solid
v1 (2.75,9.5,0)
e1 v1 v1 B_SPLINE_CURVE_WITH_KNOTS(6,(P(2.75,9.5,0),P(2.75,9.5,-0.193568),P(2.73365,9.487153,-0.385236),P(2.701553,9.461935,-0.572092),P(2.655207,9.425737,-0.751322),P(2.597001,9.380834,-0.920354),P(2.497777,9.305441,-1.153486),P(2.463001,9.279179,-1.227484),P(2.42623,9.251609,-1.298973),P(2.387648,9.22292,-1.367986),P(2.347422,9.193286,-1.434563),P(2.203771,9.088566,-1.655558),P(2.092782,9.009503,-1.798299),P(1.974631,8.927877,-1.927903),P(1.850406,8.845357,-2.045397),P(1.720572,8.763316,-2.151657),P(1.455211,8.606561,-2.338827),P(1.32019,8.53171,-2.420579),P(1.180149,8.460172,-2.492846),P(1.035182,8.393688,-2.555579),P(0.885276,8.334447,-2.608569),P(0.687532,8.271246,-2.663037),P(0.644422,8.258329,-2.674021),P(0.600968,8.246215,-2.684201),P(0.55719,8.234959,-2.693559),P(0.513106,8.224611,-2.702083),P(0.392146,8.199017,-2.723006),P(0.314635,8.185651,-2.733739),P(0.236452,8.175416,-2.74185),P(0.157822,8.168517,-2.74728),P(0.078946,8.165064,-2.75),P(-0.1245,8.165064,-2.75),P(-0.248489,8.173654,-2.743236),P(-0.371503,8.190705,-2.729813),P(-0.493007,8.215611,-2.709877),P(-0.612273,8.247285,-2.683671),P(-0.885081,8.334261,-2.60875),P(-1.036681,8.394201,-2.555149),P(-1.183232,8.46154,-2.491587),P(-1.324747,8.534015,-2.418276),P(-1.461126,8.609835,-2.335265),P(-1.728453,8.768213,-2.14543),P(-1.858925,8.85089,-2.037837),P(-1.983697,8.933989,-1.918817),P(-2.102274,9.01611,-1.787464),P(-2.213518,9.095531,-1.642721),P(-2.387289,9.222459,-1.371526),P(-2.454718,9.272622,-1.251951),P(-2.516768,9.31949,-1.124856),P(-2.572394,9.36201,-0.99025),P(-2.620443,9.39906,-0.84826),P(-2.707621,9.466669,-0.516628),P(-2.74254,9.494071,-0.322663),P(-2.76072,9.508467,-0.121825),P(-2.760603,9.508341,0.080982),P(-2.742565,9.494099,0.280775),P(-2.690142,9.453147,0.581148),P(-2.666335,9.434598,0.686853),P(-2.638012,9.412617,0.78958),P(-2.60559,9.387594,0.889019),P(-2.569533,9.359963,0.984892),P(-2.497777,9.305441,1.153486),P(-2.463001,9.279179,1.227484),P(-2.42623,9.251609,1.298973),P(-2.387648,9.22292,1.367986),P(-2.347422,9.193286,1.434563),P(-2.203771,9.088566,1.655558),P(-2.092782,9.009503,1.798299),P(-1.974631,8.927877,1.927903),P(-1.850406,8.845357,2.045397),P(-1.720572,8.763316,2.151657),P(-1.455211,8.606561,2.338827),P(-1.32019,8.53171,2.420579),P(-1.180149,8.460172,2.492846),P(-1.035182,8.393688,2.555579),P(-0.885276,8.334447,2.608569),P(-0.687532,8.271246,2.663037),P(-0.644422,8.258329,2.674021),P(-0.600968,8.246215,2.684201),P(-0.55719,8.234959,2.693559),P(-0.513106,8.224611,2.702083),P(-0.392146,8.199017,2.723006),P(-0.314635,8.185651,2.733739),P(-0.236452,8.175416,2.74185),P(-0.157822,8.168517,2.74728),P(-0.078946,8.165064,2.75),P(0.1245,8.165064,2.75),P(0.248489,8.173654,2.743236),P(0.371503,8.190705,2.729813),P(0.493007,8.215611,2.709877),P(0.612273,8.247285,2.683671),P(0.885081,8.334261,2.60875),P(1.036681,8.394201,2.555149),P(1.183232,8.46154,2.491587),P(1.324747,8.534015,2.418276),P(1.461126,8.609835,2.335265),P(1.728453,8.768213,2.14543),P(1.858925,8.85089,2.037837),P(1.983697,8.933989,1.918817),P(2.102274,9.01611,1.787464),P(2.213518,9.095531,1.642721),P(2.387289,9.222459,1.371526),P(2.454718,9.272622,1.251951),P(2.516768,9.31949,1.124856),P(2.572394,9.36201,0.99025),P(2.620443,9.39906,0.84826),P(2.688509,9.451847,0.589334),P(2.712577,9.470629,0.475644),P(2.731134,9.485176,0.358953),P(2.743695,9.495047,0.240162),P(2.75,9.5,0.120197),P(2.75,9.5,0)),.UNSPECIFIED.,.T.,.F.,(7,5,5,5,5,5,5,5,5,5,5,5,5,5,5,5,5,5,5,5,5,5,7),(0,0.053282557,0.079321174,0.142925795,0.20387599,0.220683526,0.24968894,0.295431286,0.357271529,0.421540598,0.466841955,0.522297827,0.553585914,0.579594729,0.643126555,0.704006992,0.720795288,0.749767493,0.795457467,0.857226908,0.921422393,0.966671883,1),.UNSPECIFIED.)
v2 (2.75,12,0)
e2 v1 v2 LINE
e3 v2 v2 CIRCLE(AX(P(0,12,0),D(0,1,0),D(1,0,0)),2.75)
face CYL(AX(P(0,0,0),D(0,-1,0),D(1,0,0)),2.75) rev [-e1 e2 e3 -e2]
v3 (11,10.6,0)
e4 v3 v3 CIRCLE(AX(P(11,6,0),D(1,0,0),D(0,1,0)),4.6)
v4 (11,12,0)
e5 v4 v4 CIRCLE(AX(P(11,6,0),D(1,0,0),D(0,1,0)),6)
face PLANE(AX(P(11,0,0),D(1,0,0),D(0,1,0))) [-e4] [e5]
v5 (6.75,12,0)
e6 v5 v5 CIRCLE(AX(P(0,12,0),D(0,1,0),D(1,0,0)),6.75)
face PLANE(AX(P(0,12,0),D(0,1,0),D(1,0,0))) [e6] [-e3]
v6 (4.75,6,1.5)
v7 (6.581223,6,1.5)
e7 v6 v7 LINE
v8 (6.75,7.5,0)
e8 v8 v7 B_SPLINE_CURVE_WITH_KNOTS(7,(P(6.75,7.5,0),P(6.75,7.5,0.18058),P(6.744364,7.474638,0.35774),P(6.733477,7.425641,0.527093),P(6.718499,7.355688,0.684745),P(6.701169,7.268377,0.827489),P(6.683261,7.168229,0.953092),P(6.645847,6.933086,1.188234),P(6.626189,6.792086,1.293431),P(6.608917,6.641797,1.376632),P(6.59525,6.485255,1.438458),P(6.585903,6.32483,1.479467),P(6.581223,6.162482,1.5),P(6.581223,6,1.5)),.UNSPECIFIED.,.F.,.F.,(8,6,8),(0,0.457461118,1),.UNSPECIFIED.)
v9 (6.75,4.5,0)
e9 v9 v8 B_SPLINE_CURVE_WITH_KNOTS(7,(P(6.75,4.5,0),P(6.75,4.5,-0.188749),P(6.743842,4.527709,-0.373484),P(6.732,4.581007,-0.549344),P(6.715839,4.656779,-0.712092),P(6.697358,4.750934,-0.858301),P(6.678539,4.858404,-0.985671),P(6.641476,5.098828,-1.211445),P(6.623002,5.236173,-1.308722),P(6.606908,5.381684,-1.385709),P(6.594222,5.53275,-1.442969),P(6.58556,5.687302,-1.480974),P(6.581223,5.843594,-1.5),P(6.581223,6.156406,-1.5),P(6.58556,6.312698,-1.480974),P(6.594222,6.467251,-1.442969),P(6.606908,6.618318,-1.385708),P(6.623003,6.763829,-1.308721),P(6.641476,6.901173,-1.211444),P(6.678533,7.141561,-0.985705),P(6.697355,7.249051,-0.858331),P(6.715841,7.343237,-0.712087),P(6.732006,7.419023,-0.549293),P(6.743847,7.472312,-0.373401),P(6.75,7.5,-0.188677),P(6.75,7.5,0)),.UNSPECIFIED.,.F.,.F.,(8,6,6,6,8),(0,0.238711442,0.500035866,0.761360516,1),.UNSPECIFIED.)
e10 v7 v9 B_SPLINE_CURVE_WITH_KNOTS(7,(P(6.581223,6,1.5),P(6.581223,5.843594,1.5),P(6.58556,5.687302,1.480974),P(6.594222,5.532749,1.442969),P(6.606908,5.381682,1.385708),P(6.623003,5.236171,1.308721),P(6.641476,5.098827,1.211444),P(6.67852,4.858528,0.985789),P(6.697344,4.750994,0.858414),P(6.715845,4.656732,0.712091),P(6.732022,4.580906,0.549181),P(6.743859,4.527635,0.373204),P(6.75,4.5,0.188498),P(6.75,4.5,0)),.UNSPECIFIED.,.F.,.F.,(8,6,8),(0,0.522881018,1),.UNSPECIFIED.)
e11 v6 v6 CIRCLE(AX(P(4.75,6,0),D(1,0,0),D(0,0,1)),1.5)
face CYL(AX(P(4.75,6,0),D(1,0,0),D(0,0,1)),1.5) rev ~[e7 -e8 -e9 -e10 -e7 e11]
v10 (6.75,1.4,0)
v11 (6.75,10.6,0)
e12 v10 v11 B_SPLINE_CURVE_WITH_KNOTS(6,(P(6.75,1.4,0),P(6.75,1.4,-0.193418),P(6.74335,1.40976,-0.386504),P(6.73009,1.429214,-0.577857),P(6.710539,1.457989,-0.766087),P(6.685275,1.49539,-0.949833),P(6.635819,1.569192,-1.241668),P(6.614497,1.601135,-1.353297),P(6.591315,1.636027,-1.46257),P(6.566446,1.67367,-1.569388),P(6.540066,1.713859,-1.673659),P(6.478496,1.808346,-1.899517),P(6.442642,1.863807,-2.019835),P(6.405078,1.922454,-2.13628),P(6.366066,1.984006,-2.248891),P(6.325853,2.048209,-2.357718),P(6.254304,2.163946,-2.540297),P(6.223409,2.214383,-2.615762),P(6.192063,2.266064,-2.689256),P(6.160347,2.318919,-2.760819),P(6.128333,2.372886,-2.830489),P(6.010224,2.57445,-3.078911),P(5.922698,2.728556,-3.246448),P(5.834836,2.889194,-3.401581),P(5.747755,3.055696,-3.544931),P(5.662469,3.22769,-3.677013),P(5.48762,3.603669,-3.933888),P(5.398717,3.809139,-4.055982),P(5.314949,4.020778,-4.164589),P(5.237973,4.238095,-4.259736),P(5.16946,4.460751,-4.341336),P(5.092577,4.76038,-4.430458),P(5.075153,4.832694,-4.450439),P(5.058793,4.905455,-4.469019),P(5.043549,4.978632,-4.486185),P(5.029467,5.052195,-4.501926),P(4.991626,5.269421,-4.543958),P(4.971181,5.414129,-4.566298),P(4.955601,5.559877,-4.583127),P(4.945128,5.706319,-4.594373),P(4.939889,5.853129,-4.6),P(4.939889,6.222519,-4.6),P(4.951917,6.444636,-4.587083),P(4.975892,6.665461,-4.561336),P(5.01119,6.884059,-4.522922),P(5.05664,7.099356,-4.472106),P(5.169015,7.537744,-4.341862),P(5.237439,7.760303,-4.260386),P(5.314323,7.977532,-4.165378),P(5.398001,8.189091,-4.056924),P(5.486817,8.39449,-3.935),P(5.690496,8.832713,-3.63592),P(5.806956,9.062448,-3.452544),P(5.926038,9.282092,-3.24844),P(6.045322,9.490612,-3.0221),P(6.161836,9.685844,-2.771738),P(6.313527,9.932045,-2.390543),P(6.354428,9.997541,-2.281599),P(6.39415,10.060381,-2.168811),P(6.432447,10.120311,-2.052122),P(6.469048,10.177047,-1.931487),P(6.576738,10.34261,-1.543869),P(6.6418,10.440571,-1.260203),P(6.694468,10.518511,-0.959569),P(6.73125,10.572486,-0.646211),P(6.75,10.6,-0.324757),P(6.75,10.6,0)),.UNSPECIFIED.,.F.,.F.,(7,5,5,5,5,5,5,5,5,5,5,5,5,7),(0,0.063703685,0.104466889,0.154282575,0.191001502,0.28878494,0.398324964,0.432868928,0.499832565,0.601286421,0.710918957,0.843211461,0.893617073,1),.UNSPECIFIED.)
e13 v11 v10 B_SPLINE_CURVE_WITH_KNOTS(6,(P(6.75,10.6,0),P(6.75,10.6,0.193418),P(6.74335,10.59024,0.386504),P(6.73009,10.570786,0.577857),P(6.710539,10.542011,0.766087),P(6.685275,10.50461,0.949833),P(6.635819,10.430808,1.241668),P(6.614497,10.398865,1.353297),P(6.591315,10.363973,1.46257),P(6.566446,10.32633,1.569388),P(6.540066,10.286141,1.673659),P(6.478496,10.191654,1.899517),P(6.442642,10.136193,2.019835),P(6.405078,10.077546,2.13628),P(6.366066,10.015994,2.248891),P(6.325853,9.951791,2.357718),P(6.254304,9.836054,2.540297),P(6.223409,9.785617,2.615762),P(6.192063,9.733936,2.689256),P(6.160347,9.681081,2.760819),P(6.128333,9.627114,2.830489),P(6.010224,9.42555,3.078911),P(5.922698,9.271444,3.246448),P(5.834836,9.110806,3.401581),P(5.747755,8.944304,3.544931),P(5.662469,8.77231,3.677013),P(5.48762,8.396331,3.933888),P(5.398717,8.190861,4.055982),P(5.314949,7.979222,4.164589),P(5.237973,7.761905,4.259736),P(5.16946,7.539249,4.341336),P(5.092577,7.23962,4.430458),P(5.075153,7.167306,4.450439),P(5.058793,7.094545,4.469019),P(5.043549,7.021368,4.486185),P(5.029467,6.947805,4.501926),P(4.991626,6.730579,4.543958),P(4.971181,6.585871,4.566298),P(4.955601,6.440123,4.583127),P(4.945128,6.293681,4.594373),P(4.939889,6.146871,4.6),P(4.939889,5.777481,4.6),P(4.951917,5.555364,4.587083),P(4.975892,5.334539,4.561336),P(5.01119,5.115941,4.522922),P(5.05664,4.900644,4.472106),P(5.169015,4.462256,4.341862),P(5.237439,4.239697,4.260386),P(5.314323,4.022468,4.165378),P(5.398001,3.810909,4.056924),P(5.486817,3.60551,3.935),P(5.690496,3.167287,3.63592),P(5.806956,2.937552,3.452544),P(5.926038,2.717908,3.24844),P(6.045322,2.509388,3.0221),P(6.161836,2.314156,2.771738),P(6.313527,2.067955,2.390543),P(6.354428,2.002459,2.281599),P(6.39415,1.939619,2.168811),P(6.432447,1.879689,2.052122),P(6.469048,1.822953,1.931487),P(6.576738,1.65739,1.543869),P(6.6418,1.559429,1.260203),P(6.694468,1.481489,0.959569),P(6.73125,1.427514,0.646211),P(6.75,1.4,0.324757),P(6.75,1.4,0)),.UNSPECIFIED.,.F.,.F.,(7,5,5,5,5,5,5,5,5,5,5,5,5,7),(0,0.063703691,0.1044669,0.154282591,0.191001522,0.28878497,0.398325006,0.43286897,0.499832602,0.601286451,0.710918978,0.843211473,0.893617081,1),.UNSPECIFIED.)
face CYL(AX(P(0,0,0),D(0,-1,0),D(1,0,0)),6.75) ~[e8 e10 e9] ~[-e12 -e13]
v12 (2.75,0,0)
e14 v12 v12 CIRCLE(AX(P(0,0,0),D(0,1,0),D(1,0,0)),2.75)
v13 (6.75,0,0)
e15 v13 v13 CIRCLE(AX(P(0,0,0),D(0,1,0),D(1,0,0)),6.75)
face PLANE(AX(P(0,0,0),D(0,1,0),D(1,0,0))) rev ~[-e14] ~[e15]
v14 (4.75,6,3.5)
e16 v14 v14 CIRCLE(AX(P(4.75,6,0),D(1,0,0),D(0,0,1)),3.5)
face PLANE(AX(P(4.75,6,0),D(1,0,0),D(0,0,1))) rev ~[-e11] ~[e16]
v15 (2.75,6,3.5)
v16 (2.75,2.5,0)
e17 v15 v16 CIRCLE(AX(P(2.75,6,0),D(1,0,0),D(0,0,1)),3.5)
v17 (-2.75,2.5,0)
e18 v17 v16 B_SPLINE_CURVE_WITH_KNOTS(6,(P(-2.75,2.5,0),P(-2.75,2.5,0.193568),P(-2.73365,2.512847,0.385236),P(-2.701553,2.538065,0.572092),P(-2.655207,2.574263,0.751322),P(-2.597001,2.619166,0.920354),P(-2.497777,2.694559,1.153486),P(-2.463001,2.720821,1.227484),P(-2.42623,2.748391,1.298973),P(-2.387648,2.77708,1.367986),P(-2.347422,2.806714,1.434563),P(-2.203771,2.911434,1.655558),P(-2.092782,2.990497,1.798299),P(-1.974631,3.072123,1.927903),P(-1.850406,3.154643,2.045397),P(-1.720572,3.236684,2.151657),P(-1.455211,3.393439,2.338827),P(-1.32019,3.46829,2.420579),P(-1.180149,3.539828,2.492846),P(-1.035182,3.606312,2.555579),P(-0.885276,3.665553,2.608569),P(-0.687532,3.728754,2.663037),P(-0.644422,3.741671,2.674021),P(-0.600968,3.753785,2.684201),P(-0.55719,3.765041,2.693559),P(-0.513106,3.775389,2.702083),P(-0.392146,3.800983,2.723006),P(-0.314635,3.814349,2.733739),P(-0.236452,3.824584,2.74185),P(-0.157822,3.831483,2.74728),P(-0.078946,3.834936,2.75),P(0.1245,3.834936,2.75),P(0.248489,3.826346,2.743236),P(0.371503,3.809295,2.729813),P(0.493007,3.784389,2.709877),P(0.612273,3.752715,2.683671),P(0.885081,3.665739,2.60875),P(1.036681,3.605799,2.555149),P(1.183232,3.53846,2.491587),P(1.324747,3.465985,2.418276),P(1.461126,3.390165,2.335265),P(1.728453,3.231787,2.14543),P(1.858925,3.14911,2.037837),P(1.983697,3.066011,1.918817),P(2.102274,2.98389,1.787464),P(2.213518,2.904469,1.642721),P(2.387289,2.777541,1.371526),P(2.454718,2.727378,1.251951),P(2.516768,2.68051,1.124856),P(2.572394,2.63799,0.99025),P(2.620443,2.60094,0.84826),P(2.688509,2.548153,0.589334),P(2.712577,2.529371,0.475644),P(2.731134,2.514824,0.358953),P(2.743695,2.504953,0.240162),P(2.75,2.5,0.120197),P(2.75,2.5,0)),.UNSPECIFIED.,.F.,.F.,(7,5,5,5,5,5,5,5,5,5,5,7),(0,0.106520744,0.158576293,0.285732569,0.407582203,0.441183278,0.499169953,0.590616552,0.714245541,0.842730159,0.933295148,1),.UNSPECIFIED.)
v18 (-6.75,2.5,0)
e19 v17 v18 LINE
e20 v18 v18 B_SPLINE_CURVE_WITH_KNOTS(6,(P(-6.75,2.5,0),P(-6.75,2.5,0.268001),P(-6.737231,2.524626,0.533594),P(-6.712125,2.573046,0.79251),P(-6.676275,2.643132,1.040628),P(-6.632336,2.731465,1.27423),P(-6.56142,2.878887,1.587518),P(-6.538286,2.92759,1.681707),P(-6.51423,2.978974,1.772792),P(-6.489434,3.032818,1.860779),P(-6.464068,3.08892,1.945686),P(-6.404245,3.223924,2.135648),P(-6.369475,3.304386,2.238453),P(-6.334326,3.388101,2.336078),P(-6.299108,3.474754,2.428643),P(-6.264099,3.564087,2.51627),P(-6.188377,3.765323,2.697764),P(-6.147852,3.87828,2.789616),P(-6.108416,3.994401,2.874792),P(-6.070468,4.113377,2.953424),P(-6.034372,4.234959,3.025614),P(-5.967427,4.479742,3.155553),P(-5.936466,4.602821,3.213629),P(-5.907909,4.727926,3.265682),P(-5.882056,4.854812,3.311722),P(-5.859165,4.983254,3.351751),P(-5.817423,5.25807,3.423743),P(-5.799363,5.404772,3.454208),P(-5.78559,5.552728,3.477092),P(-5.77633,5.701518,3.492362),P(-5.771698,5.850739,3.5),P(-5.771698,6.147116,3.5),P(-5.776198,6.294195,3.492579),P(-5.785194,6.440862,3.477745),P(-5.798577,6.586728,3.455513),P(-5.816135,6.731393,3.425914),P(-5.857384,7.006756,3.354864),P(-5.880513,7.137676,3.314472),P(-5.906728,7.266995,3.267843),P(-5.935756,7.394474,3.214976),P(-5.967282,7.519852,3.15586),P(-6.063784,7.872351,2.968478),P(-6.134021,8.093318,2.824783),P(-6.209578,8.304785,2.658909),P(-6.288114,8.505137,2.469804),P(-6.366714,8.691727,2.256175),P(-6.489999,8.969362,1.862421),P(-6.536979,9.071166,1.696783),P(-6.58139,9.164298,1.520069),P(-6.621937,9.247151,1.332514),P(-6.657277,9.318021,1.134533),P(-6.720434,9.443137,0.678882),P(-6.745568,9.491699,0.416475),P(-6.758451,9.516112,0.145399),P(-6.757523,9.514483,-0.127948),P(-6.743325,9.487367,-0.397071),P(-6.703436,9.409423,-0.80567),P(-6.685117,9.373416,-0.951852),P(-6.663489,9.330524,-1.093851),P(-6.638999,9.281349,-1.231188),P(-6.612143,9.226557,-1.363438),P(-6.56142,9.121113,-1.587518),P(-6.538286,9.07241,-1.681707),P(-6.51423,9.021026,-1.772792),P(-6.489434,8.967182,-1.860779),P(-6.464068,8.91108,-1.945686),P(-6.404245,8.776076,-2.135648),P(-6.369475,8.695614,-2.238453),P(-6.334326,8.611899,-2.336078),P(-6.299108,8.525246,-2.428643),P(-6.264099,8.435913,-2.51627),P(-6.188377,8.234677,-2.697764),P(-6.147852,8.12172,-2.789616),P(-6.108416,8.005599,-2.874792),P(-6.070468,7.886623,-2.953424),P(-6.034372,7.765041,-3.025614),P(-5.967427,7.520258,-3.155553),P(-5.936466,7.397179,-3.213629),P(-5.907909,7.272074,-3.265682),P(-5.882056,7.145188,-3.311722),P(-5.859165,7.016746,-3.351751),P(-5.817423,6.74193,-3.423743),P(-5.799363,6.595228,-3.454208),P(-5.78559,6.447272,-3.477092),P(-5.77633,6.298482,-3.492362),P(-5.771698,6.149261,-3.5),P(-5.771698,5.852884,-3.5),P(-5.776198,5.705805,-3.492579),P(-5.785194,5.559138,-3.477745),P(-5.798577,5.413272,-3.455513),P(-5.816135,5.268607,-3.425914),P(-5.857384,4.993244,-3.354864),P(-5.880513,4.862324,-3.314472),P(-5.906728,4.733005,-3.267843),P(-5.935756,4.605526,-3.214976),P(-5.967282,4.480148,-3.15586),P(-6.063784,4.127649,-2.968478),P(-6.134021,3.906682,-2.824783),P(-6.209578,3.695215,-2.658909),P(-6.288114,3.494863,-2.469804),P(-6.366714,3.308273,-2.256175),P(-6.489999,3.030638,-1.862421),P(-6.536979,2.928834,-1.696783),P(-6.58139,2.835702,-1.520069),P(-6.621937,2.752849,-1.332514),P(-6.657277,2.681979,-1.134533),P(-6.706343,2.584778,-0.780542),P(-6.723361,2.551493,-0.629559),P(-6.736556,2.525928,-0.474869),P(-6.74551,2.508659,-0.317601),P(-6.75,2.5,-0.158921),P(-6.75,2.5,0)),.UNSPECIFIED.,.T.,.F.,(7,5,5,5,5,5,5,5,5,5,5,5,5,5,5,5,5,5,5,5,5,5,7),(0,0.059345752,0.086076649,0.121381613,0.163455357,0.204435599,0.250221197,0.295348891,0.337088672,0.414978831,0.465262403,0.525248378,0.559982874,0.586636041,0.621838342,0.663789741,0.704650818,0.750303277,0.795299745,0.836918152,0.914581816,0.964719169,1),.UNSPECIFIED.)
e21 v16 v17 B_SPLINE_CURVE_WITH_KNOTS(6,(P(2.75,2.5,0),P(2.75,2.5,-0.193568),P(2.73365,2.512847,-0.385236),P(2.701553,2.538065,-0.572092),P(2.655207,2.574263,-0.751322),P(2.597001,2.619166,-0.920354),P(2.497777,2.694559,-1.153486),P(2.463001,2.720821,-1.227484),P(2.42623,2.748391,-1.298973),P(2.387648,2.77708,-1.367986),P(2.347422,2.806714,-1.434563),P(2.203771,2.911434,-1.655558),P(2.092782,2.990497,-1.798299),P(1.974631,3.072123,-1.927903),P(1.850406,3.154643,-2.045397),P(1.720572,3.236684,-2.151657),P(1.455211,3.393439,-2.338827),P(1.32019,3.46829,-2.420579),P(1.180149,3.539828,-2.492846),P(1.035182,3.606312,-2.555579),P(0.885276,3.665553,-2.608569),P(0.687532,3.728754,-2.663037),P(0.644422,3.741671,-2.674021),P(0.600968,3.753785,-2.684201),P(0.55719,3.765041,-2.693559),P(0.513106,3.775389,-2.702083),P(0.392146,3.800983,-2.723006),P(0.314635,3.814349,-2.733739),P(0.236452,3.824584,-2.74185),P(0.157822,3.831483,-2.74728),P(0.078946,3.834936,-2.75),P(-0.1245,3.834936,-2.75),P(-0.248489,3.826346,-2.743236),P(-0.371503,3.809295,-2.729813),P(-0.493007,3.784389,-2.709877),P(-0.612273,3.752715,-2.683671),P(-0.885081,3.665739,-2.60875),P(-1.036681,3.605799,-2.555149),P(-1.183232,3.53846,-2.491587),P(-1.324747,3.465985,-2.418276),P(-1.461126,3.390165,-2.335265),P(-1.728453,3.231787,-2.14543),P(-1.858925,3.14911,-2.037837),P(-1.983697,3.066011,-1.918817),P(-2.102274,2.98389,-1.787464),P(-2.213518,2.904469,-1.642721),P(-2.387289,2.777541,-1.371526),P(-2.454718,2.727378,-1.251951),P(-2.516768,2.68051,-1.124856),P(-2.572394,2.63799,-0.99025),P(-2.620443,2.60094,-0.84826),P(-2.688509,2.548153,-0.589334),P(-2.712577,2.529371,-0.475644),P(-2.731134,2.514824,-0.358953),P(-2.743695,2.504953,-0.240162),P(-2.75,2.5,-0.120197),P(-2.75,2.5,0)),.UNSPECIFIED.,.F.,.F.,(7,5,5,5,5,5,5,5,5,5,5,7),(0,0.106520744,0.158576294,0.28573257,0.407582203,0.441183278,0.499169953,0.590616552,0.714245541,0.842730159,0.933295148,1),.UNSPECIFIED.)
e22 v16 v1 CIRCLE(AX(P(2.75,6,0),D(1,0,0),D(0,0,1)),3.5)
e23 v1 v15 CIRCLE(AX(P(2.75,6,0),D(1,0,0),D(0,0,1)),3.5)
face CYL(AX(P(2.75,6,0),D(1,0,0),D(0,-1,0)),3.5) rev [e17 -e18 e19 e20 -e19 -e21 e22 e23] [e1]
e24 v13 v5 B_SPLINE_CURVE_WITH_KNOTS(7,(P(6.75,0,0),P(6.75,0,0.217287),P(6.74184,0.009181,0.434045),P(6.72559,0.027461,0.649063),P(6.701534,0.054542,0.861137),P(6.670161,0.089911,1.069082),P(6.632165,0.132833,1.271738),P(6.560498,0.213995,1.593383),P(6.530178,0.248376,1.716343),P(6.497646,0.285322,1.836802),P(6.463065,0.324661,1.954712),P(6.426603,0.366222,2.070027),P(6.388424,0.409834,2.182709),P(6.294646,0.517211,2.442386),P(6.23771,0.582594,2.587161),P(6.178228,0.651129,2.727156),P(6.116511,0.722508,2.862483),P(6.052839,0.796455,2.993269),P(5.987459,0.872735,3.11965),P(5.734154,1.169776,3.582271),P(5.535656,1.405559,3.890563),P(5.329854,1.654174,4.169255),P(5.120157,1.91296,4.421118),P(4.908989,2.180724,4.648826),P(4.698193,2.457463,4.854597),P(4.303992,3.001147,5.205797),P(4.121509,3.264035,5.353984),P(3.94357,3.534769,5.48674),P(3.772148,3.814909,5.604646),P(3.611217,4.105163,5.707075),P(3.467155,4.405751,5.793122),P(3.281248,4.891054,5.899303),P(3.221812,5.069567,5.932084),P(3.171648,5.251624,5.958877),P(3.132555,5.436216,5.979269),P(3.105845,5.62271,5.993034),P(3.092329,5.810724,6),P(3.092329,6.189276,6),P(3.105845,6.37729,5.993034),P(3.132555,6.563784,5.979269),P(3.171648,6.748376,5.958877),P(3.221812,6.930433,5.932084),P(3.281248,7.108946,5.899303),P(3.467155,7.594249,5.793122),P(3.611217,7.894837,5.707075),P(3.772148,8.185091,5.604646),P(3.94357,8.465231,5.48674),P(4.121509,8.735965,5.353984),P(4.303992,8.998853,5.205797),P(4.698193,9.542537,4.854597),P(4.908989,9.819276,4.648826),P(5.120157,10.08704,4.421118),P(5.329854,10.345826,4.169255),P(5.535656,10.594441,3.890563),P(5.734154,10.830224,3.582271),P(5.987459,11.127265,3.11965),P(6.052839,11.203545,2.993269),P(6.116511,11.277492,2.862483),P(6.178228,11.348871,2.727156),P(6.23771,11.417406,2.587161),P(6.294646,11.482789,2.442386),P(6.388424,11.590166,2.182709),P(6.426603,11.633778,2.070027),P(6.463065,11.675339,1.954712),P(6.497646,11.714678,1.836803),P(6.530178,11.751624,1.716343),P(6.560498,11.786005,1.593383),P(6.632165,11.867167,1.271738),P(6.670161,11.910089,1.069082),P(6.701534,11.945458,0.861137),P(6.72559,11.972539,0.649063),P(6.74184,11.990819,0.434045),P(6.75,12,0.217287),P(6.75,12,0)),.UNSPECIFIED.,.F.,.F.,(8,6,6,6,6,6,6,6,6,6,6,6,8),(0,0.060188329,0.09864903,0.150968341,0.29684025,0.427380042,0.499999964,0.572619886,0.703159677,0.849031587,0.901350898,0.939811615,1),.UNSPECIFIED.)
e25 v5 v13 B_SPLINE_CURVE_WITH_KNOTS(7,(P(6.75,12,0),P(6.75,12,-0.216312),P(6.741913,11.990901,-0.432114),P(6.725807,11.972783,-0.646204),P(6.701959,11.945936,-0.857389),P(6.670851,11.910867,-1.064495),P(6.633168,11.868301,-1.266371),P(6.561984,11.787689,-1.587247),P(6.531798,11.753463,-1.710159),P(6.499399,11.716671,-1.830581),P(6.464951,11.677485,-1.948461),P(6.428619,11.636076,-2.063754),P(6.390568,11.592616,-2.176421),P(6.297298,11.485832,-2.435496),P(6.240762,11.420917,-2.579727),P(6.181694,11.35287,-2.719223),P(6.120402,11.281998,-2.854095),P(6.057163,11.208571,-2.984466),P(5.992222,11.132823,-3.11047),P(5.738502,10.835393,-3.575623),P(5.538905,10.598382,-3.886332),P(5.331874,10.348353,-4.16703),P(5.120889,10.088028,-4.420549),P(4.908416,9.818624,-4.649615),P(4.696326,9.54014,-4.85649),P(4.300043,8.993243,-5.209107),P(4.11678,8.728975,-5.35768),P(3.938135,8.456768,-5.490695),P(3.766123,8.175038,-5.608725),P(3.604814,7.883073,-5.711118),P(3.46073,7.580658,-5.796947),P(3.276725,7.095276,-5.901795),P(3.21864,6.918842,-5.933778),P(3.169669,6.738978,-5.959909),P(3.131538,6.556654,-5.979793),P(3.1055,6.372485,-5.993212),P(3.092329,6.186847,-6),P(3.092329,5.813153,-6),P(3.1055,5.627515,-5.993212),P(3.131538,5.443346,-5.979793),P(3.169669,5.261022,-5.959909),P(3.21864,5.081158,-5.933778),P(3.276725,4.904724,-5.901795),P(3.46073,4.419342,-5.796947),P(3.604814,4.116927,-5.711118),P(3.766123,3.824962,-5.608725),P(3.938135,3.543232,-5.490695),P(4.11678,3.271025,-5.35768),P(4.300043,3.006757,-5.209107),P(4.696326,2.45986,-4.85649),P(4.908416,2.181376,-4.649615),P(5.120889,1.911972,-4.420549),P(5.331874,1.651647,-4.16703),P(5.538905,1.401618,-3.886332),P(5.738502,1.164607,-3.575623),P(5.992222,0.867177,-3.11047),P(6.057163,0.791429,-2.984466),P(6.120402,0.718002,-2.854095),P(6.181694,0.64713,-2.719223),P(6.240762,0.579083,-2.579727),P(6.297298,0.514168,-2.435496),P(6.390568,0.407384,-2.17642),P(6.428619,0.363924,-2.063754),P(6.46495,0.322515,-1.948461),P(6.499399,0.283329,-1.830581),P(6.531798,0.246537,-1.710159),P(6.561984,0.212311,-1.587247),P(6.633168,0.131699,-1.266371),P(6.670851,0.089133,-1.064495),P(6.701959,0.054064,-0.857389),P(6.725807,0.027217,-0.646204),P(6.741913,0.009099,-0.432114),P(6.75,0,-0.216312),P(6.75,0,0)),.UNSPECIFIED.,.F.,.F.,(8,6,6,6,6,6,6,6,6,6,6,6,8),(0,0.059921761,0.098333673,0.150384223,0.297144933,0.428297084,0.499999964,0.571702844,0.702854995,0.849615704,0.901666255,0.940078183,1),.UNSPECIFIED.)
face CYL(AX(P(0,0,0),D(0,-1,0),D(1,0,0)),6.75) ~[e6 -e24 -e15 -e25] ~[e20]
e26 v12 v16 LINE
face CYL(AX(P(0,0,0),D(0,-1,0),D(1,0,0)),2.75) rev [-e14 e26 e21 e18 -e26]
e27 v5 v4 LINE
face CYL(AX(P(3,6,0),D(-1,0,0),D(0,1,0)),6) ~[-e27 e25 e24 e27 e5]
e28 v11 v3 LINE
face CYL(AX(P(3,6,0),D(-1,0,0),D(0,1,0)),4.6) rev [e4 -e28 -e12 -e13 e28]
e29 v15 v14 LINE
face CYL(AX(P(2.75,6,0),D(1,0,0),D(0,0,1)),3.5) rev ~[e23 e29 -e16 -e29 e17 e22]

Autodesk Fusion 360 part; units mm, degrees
sketch "Sketch1" plane through (0, 0, 0) normal (0, 1, 0) x (1, 0, 0)
  circle A0 centre (0, 0) radius 2.75
  circle A1 centre (0, 0) radius 6.75
  dimension "d1" = 5.5
  dimension "d2" = 4
extrude "Extrude1" add sketch "Sketch1" along normal blind 12
ref_plane "WorkPlane1" through (3, 0, 0) normal (1, 0, 0) x (0, 1, 0)
sketch "Sketch2" plane through (3, 0, 0) normal (1, 0, 0) x (0, 1, 0)
  line L0 (12, -6.75) -> (12, 6.75)
  line L1 (0, -6.75) -> (0, 6.75)
  circle A0 centre (6, 0) radius 4.6
  circle A1 centre (6, 0) radius 6
  dimension "d6" = 9.2
  dimension "d7" = 6
  dimension "d8" = 12
  dimension "d9" = 1.4
extrude "Extrude2" add sketch "Sketch2" along normal blind 8
ref_plane "WorkPlane2" through (2.75, 6.403, 0) normal (-1, 0, 0) x (0, 0, -1)
sketch "Sketch3" plane through (2.75, 6.403, 0) normal (-1, 0, 0) x (0, -1, 0)
  line L0 (-5.597, -2.75) -> (-5.597, 2.75)
  line L1 (6.403, -2.75) -> (6.403, 2.75)
  line L2 (6.403, -2.75) -> (6.403, 2.75)
  line L3 (-5.597, -2.75) -> (-5.597, 2.75)
  circle A0 centre (0.403, 0) radius 3.5
  point P0 (0.403, 0)
  dimension "d13" = 6
  dimension "d14" = 12
  dimension "d20" = 7
hole "Hole1" at (2.75, 6, 0) direction (1, 0, 0) diameter 3 depth 10 tip angle 118 counterbore diameter 7 counterbore depth 2
extrude "Extrude3" cut sketch "Sketch3" along normal blind 14.5
equation "d1 = 5 mm + 0.5 mm"
equation "d6 = 9 mm + 0.2 mm"
equation "d7 = d8 / 2"
equation "d13 = d14 / 2"
